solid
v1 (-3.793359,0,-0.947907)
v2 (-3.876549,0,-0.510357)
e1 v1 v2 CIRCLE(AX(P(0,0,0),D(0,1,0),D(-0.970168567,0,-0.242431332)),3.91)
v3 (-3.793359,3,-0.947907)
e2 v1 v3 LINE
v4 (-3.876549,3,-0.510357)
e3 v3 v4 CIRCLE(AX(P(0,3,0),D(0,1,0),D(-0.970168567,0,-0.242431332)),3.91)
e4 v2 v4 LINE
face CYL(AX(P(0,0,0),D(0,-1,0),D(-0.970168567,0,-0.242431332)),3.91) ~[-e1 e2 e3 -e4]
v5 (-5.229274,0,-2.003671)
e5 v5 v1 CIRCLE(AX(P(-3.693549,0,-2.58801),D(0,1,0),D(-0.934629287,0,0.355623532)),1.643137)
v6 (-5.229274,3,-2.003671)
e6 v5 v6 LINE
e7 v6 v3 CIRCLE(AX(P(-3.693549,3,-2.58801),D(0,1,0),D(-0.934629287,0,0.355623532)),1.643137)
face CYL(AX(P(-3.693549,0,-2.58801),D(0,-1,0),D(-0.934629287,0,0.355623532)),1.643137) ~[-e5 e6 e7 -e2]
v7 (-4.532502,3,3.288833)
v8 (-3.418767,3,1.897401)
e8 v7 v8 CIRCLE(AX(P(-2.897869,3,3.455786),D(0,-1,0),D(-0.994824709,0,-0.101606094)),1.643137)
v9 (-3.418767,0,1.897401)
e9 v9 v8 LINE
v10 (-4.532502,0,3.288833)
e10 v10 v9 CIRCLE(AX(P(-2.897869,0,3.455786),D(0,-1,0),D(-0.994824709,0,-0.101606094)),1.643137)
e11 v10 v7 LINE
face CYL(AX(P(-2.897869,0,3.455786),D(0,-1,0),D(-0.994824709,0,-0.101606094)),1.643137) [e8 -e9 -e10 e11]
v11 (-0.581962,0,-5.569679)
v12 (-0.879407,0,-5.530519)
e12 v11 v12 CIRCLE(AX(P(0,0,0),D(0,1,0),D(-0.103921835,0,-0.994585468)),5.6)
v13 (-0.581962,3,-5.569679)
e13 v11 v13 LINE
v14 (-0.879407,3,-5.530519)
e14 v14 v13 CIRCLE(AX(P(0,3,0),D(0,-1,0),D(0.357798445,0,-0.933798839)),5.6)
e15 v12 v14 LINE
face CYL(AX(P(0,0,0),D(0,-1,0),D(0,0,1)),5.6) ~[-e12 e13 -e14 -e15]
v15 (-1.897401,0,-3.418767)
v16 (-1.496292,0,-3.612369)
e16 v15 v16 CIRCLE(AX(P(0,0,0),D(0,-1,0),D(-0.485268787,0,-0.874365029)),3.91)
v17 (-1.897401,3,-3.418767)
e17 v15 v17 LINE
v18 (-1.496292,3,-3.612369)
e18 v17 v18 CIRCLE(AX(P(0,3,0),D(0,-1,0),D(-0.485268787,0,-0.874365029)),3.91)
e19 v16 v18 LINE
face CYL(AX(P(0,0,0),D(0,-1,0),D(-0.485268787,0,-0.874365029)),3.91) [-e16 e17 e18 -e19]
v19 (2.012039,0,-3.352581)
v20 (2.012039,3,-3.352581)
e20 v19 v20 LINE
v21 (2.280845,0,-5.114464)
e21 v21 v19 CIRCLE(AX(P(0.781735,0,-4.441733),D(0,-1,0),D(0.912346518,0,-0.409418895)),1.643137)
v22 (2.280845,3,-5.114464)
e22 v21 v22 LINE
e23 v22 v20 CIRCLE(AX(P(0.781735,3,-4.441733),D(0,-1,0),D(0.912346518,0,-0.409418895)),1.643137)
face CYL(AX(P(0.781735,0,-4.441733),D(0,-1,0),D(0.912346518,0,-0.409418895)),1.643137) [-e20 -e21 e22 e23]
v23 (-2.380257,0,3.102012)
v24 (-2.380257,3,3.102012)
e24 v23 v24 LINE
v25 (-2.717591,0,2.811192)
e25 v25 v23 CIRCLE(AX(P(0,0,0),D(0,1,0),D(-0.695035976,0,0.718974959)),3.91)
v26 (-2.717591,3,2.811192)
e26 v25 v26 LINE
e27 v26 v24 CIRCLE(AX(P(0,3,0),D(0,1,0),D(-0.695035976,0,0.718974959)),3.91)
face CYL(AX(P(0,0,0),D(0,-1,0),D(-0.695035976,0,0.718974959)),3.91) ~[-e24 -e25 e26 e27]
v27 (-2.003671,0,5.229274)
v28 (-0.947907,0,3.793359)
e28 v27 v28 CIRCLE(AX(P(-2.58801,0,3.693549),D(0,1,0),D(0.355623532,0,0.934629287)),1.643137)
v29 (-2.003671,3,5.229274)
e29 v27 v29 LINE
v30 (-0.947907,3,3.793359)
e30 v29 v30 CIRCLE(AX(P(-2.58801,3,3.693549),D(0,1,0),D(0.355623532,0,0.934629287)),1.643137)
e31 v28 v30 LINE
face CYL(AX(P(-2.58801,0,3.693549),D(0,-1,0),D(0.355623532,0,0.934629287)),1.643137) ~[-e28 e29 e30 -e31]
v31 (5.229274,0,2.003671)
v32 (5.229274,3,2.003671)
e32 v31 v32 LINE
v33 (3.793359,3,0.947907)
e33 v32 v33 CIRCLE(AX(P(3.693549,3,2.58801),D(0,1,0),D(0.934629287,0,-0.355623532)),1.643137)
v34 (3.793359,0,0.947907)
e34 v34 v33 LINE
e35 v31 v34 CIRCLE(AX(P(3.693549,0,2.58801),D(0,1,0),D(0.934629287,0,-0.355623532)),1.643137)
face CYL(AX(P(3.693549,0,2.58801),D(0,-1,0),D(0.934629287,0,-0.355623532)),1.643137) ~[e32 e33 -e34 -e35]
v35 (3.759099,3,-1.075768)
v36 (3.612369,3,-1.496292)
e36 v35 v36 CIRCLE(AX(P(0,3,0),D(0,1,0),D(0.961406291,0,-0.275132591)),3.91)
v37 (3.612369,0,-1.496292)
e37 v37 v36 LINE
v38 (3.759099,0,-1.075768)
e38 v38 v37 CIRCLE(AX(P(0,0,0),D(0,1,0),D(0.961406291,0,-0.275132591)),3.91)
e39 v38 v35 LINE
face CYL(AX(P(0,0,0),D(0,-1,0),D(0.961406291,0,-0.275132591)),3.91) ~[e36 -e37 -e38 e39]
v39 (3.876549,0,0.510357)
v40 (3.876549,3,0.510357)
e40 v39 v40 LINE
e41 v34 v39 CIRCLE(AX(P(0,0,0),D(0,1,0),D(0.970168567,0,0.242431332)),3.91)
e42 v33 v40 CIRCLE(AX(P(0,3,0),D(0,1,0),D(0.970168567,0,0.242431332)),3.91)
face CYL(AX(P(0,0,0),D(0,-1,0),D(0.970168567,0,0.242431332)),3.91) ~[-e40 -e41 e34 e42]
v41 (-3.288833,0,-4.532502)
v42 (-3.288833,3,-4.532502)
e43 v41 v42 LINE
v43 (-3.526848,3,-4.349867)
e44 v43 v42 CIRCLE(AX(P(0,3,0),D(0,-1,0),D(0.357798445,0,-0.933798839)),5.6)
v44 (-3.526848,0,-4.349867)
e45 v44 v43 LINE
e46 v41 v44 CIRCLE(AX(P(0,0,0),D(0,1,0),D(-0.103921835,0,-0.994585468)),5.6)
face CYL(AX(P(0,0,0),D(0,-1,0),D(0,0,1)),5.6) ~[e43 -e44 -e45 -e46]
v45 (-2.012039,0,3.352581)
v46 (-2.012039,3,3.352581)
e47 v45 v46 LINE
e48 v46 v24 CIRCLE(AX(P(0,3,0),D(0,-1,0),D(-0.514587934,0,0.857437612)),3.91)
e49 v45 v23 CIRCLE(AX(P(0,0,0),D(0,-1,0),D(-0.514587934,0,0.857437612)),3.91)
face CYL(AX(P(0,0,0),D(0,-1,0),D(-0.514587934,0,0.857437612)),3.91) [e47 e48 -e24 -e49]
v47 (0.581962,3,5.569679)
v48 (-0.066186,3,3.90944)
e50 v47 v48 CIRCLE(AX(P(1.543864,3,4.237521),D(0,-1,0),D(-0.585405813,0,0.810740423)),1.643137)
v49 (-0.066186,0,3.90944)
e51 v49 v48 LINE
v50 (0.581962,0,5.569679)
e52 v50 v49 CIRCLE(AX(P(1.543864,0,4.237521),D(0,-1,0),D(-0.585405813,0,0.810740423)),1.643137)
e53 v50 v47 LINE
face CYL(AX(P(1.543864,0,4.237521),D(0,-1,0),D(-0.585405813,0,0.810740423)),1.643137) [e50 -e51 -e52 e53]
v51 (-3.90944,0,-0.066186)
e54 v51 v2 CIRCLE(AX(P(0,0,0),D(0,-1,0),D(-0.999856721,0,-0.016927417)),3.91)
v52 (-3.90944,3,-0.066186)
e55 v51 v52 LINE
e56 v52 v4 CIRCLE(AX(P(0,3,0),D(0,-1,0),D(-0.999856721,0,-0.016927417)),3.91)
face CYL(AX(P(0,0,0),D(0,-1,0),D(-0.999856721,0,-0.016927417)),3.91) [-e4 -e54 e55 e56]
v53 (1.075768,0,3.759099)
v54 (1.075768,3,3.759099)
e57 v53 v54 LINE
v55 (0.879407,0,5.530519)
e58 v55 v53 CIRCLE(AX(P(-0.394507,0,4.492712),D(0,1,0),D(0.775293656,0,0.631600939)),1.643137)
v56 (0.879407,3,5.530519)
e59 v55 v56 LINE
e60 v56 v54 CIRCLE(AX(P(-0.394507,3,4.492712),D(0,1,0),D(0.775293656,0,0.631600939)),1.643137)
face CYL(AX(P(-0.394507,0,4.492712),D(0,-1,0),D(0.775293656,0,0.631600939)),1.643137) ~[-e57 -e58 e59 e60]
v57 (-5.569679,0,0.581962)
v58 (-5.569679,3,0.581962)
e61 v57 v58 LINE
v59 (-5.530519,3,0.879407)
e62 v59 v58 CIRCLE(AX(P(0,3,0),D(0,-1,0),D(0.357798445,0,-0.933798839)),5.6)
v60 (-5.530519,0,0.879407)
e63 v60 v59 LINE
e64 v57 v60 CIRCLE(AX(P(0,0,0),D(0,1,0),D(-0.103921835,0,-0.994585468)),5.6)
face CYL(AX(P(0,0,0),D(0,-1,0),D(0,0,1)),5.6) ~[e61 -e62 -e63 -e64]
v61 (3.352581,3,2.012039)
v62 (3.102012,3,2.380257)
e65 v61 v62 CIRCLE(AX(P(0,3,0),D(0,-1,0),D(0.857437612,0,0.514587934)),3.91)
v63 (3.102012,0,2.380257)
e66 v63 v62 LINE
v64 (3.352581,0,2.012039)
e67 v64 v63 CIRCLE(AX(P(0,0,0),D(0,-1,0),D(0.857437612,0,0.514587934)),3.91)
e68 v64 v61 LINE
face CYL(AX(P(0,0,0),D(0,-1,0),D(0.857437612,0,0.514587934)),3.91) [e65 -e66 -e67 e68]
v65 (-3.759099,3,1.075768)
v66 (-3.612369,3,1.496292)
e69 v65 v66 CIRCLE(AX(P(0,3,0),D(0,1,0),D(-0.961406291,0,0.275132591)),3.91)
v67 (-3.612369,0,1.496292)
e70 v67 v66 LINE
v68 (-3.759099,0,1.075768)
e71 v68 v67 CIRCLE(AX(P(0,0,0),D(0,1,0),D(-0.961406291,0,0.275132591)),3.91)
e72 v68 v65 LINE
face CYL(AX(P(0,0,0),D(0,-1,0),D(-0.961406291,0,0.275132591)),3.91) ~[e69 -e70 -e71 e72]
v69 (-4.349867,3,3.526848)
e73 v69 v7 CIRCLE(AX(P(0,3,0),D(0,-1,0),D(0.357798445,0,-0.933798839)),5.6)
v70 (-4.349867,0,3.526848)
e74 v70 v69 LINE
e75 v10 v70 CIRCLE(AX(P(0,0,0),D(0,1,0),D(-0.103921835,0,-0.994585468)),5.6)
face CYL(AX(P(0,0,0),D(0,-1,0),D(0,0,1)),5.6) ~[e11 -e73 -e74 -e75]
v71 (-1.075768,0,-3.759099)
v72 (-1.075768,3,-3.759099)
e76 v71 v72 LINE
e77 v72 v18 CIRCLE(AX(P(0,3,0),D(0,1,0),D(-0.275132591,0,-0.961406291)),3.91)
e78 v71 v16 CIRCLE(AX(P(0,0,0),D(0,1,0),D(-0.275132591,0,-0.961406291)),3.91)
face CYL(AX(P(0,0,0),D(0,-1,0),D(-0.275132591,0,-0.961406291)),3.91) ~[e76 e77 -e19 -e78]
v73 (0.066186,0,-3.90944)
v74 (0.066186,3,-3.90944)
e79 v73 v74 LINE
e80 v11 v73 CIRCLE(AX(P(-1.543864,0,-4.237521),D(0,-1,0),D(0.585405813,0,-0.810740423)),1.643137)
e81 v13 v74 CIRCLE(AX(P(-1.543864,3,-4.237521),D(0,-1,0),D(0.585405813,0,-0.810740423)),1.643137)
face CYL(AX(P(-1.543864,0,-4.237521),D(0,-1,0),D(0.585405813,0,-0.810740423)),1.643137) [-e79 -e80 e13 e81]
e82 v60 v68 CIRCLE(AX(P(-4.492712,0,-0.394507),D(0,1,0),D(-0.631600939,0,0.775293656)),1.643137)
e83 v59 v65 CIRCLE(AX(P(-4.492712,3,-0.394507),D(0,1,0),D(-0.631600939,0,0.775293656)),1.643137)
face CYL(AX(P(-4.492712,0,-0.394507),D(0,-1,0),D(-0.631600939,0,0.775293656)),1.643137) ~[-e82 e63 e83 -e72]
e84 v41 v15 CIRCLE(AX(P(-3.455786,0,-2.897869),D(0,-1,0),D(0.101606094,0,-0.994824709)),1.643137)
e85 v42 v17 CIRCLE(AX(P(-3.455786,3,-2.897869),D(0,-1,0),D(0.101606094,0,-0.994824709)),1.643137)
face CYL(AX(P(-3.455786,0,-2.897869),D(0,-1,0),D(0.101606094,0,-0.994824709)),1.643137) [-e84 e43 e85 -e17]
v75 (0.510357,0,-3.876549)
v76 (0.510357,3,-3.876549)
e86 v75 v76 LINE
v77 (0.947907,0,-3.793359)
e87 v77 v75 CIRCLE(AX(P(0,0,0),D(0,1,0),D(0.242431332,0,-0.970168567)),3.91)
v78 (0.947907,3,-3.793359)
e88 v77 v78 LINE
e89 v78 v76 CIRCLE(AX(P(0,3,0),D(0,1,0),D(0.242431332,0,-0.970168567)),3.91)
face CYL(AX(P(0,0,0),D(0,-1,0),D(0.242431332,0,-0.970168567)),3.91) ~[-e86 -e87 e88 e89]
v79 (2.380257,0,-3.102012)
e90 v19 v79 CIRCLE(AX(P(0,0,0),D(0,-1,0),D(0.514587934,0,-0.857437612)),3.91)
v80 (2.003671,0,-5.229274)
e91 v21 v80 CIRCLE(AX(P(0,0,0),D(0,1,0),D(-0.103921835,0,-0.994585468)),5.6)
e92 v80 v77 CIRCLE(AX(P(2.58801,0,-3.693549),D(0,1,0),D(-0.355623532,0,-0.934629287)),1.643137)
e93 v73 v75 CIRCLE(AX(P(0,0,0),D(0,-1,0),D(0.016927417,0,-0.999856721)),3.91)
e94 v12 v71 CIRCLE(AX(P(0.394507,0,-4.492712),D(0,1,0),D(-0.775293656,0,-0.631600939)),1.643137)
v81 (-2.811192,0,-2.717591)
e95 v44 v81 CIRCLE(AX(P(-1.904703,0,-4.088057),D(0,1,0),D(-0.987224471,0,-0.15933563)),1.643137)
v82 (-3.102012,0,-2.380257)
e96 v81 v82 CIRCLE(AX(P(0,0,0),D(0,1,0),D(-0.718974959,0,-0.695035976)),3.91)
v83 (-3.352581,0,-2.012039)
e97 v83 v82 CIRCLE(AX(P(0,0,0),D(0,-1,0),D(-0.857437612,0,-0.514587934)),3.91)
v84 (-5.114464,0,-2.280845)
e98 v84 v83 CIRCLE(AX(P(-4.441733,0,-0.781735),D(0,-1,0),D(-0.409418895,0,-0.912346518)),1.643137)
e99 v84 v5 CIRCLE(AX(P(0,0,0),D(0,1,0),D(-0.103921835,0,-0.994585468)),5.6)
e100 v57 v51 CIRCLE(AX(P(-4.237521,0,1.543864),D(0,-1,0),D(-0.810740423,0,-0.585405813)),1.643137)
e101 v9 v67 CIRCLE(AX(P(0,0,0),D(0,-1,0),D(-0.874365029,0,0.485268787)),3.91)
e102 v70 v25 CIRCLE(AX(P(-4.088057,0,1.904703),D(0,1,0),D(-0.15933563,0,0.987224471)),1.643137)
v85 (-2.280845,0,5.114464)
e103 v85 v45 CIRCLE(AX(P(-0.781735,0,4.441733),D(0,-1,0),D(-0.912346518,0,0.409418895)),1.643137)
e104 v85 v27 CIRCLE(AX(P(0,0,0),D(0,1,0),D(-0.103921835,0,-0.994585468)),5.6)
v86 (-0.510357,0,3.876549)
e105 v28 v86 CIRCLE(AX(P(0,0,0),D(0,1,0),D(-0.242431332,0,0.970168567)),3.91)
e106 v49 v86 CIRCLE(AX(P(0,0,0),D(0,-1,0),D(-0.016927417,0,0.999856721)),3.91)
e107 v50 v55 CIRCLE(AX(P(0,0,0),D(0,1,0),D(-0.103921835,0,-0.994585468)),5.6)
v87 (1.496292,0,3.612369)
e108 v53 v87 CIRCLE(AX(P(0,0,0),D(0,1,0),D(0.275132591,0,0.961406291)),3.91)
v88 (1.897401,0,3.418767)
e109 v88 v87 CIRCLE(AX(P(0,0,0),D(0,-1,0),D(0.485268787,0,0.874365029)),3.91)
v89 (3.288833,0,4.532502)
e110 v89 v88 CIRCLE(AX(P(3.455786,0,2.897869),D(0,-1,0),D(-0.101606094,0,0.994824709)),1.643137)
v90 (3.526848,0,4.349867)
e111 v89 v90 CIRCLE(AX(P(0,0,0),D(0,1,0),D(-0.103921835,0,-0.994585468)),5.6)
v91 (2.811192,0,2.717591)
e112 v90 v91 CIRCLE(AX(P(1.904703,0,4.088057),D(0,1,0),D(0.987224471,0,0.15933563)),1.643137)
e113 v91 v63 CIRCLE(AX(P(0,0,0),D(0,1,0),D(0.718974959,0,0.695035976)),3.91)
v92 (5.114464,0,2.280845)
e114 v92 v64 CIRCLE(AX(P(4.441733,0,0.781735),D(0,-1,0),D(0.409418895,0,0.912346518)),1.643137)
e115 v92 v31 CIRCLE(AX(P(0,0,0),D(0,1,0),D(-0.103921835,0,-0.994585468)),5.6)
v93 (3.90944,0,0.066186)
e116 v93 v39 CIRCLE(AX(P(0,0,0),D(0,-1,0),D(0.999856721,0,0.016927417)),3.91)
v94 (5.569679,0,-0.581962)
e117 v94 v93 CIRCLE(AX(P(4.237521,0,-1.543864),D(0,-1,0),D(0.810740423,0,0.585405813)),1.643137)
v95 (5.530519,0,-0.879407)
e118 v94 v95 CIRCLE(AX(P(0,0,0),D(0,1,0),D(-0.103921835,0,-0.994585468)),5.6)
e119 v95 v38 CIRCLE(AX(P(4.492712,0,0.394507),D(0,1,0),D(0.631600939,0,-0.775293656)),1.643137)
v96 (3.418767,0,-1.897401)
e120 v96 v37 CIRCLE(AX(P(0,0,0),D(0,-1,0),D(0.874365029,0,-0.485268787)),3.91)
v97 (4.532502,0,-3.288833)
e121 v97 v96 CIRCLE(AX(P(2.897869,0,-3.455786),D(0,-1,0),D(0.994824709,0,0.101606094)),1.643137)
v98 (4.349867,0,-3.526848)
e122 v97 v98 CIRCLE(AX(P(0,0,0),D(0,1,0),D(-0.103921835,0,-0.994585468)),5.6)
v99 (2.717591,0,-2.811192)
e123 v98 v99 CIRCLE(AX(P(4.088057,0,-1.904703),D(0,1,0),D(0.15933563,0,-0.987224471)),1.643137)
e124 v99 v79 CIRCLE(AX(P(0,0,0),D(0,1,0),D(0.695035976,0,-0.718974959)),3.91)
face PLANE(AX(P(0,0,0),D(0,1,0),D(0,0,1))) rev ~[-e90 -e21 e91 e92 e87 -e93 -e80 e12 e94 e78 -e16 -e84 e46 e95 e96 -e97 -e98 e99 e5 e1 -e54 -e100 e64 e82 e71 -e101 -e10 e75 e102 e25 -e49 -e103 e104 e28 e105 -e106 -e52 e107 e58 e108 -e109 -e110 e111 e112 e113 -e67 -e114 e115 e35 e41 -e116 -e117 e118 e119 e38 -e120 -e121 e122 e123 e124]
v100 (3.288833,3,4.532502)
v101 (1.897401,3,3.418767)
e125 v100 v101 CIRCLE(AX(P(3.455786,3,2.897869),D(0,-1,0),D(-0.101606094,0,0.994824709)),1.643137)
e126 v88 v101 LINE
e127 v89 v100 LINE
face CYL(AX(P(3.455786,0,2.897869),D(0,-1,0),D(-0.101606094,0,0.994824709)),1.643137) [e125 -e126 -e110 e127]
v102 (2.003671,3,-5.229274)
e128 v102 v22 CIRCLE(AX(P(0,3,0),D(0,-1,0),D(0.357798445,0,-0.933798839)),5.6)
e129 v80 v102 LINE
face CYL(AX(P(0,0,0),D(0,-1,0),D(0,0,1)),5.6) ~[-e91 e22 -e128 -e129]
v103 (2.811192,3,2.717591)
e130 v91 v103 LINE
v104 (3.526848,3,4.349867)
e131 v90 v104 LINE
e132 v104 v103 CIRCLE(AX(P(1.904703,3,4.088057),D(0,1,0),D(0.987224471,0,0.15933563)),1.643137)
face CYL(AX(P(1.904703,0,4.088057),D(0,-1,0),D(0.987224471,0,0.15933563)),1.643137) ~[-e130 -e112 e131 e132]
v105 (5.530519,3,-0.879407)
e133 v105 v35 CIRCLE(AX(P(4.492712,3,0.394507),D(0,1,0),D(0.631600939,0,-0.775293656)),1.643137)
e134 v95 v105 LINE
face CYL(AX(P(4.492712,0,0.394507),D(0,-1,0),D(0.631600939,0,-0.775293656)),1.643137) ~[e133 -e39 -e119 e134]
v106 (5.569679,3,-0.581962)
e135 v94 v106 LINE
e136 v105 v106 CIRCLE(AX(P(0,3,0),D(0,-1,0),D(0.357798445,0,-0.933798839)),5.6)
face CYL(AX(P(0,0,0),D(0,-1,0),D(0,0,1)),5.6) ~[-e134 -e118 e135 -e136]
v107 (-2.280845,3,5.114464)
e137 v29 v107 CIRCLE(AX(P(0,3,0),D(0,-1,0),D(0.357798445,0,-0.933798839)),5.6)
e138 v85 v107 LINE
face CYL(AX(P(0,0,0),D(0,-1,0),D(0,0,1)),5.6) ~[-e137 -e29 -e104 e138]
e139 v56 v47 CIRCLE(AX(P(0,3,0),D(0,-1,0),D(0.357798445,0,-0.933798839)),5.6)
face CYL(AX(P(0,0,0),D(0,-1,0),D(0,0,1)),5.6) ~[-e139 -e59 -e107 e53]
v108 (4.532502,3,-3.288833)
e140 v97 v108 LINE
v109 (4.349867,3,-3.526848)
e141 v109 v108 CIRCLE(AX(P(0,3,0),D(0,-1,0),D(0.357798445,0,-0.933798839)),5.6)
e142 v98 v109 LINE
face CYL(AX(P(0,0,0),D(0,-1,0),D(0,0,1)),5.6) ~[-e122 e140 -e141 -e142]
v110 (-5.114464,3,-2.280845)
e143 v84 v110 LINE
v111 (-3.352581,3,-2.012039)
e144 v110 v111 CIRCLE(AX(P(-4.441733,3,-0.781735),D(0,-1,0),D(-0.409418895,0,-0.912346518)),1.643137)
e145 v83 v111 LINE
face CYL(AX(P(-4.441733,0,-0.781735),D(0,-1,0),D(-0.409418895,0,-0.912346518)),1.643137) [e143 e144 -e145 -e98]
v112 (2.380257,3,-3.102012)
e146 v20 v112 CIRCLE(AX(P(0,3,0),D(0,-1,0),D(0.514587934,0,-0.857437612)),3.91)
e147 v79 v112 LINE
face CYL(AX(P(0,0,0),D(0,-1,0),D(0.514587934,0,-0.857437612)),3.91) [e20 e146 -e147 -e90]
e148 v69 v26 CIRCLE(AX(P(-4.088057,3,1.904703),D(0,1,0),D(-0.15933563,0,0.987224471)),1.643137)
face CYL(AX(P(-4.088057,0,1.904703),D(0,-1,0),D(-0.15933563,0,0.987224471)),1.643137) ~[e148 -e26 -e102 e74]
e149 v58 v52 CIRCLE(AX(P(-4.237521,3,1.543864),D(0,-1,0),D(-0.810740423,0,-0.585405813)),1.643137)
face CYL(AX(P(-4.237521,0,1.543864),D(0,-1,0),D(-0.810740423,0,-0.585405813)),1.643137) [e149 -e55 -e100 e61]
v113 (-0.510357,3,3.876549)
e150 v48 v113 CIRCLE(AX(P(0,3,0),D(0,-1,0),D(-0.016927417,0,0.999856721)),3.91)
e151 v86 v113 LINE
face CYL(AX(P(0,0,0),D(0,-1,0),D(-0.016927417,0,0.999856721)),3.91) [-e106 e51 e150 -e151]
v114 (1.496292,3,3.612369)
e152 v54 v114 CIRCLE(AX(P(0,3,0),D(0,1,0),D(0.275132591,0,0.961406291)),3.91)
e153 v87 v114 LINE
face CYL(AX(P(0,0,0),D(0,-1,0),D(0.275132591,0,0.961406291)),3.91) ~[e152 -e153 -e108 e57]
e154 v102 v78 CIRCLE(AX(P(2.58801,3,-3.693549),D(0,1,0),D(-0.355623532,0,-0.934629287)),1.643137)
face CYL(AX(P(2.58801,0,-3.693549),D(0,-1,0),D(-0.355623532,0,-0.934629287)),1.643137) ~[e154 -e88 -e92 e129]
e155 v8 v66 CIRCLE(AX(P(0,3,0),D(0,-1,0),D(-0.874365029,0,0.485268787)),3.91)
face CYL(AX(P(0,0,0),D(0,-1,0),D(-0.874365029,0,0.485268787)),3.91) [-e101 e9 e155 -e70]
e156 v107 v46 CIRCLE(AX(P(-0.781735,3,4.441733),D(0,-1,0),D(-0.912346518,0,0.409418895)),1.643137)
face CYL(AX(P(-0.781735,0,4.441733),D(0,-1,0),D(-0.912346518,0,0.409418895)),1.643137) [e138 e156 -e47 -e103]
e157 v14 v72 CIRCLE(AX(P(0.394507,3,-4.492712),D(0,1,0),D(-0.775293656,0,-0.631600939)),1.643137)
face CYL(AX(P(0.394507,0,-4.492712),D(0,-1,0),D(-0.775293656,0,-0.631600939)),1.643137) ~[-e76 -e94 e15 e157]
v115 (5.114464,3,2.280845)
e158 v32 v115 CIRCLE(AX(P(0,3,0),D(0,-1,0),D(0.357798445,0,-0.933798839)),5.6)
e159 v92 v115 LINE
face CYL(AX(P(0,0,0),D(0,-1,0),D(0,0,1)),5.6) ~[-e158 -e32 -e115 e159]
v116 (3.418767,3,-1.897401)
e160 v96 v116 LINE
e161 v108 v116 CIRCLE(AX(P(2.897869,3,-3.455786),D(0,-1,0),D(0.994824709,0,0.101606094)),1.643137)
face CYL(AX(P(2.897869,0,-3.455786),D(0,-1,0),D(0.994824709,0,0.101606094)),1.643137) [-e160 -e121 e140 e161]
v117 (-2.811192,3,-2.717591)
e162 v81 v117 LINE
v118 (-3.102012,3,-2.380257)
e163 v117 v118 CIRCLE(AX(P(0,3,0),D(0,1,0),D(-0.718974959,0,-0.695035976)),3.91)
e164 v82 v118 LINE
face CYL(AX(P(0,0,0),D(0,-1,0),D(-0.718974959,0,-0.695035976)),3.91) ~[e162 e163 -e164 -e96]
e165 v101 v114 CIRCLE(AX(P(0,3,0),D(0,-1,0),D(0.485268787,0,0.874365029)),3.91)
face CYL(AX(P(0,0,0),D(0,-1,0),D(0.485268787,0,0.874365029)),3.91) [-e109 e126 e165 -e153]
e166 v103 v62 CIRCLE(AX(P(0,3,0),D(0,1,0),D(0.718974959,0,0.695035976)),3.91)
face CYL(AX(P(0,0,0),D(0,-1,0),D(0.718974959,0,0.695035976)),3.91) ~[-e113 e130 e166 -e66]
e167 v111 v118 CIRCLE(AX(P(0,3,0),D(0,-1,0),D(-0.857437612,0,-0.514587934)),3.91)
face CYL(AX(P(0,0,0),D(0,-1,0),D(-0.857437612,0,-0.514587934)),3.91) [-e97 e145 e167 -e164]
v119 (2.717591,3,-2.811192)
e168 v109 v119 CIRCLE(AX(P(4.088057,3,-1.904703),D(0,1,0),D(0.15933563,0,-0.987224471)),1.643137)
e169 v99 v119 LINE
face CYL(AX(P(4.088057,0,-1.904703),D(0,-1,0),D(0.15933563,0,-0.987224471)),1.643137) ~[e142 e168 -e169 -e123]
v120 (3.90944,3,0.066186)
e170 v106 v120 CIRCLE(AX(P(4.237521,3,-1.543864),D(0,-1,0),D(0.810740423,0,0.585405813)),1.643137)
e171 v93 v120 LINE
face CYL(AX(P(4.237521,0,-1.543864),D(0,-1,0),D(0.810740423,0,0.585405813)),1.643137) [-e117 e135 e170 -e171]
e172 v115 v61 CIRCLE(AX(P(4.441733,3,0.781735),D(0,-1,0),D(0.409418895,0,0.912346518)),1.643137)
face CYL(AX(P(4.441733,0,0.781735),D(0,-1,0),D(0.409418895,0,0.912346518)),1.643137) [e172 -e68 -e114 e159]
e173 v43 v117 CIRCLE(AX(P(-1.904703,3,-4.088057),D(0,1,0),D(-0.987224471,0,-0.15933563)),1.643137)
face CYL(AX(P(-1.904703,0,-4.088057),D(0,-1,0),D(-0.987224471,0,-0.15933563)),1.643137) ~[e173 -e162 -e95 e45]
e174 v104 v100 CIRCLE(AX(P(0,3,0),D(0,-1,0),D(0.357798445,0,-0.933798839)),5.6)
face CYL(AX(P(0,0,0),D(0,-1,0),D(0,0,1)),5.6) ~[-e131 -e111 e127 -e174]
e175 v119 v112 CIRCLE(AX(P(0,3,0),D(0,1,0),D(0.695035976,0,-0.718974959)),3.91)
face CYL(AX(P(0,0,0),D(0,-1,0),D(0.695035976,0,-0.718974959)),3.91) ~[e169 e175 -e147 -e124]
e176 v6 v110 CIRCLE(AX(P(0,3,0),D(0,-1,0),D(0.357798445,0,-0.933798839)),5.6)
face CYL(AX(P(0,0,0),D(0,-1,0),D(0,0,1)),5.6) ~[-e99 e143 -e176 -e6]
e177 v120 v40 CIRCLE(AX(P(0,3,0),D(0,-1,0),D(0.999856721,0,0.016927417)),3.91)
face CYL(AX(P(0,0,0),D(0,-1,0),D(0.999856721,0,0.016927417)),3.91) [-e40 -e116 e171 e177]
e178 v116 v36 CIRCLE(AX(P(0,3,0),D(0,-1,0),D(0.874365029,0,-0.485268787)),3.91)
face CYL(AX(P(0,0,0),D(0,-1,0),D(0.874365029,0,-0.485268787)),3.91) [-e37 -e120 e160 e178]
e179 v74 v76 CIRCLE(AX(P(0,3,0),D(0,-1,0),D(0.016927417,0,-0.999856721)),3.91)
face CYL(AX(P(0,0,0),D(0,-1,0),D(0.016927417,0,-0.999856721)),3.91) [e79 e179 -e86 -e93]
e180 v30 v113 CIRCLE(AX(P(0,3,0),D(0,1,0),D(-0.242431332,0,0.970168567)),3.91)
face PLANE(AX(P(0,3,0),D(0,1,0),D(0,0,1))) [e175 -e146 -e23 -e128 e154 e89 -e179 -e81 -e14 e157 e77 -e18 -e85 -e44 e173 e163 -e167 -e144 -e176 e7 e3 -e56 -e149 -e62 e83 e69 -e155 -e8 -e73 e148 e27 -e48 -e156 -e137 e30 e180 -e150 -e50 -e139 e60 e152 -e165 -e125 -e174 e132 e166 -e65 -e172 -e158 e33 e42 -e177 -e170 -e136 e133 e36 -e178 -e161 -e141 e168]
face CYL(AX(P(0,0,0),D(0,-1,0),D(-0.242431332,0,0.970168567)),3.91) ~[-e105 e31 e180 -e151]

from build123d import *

# Parameters (mm, degrees)
SKETCH1_R                 = 5.6
BOSS_EXTRUDE1_DEPTH       = 3
CUT_EXTRUDE1_START        = -3
CUT_EXTRUDE1_DEPTH        = 3
CIRPATTERN1_COUNT         = 12
CIRPATTERN1_START         = -3
CIRPATTERN1_COPY_1_DEPTH  = 3
CIRPATTERN1_COPY_2_DEPTH  = 3
CIRPATTERN1_COPY_3_DEPTH  = 3
CIRPATTERN1_COPY_4_DEPTH  = 3
CIRPATTERN1_COPY_5_DEPTH  = 3
CIRPATTERN1_COPY_6_DEPTH  = 3
CIRPATTERN1_COPY_7_DEPTH  = 3
CIRPATTERN1_COPY_8_DEPTH  = 3
CIRPATTERN1_COPY_9_DEPTH  = 3
CIRPATTERN1_COPY_10_DEPTH = 3
CIRPATTERN1_COPY_11_DEPTH = 3


with BuildPart() as part:
    # Sketch1 → Boss-Extrude1 (new body)
    with BuildSketch(Plane(origin=(0, 0, 0), x_dir=(1, 0, 0), z_dir=(0, 1, 0))):
        with Locations(Location((0, 0, 0), (0, 0, 270))):
            Circle(SKETCH1_R)
    extrude(amount=BOSS_EXTRUDE1_DEPTH)

    # Sketch2 → Cut-Extrude1 (cut)
    with BuildSketch(Plane(origin=(0, 3, 0), x_dir=(1, 0, 0), z_dir=(0, 1, 0)).offset(CUT_EXTRUDE1_START)):
        with BuildLine():
            Line((0.510357412, 3.876549408), (0.730946676, 5.552091224))
            ThreePointArc((0.730946676, 5.552091224), (0.075009446, 5.599497619), (-0.581962275, 5.569678618))
            ThreePointArc((-0.581962275, 5.569678618), (-0.013232679, 4.835071359), (0.066186197, 3.909439779))
            ThreePointArc((0.066186197, 3.909439779), (0.288740502, 3.899324162), (0.510357412, 3.876549408))
        make_face()
    cut_extrude1 = extrude(amount=CUT_EXTRUDE1_DEPTH, mode=Mode.SUBTRACT)

    # Mirror1: Cut-Extrude1 across plane
    add(cut_extrude1.mirror(Plane(origin=(0, 0, 0), x_dir=(-0.13052619222004483, 0, 0.9914448613738113), z_dir=(-0.9914448613738114, 0, -0.13052619222004483))), mode=Mode.SUBTRACT)

    # CirPattern1: Cut-Extrude1 ×12 about axis
    cirpattern1_axis = Axis((0, 0, 0), (0, 1, 0))
    for i in range(1, CIRPATTERN1_COUNT):
        add(cut_extrude1.rotate(cirpattern1_axis, i * 360 / CIRPATTERN1_COUNT), mode=Mode.SUBTRACT)

    # CirPattern1 copy 1 sketch → CirPattern1 copy 1 (cut)
    with BuildSketch(Plane(origin=(0, 3, 0), x_dir=(-0.9659258262890651, 0, 0.25881904510253406), z_dir=(0, 1, 0)).offset(CIRPATTERN1_START)):
        with BuildLine():
            Line((0.510357412, -3.876549408), (0.730946676, -5.552091224))
            ThreePointArc((0.730946676, -5.552091224), (0.075009446, -5.599497619), (-0.581962275, -5.569678618))
            ThreePointArc((-0.581962275, -5.569678618), (-0.013232679, -4.835071359), (0.066186197, -3.909439779))
            ThreePointArc((0.066186197, -3.909439779), (0.288740502, -3.899324162), (0.510357412, -3.876549408))
        make_face()
    extrude(amount=CIRPATTERN1_COPY_1_DEPTH, mode=Mode.SUBTRACT)

    # CirPattern1 copy 2 sketch → CirPattern1 copy 2 (cut)
    with BuildSketch(Plane(origin=(0, 3, 0), x_dir=(-0.7071067811865381, 0, 0.7071067811865575), z_dir=(0, 1, 0)).offset(CIRPATTERN1_START)):
        with BuildLine():
            Line((0.510357412, -3.876549408), (0.730946676, -5.552091224))
            ThreePointArc((0.730946676, -5.552091224), (0.075009446, -5.599497619), (-0.581962275, -5.569678618))
            ThreePointArc((-0.581962275, -5.569678618), (-0.013232679, -4.835071359), (0.066186197, -3.909439779))
            ThreePointArc((0.066186197, -3.909439779), (0.288740502, -3.899324162), (0.510357412, -3.876549408))
        make_face()
    extrude(amount=CIRPATTERN1_COPY_2_DEPTH, mode=Mode.SUBTRACT)

    # CirPattern1 copy 3 sketch → CirPattern1 copy 3 (cut)
    with BuildSketch(Plane(origin=(0, 3, 0), x_dir=(-0.25881904510250764, 0, 0.9659258262890722), z_dir=(0, 1, 0)).offset(CIRPATTERN1_START)):
        with BuildLine():
            Line((0.510357412, -3.876549408), (0.730946676, -5.552091224))
            ThreePointArc((0.730946676, -5.552091224), (0.075009446, -5.599497619), (-0.581962275, -5.569678618))
            ThreePointArc((-0.581962275, -5.569678618), (-0.013232679, -4.835071359), (0.066186197, -3.909439779))
            ThreePointArc((0.066186197, -3.909439779), (0.288740502, -3.899324162), (0.510357412, -3.876549408))
        make_face()
    extrude(amount=CIRPATTERN1_COPY_3_DEPTH, mode=Mode.SUBTRACT)

    # CirPattern1 copy 4 sketch → CirPattern1 copy 4 (cut)
    with BuildSketch(Plane(origin=(0, 3, 0), x_dir=(0.2588190451025339, 0, 0.9659258262890651), z_dir=(0, 1, 0)).offset(CIRPATTERN1_START)):
        with BuildLine():
            Line((0.510357412, -3.876549408), (0.730946676, -5.552091224))
            ThreePointArc((0.730946676, -5.552091224), (0.075009446, -5.599497619), (-0.581962275, -5.569678618))
            ThreePointArc((-0.581962275, -5.569678618), (-0.013232679, -4.835071359), (0.066186197, -3.909439779))
            ThreePointArc((0.066186197, -3.909439779), (0.288740502, -3.899324162), (0.510357412, -3.876549408))
        make_face()
    extrude(amount=CIRPATTERN1_COPY_4_DEPTH, mode=Mode.SUBTRACT)

    # CirPattern1 copy 5 sketch → CirPattern1 copy 5 (cut)
    with BuildSketch(Plane(origin=(0, 3, 0), x_dir=(0.7071067811865577, 0, 0.707106781186538), z_dir=(0, 1, 0)).offset(CIRPATTERN1_START)):
        with BuildLine():
            Line((0.510357412, -3.876549408), (0.730946676, -5.552091224))
            ThreePointArc((0.730946676, -5.552091224), (0.075009446, -5.599497619), (-0.581962275, -5.569678618))
            ThreePointArc((-0.581962275, -5.569678618), (-0.013232679, -4.835071359), (0.066186197, -3.909439779))
            ThreePointArc((0.066186197, -3.909439779), (0.288740502, -3.899324162), (0.510357412, -3.876549408))
        make_face()
    extrude(amount=CIRPATTERN1_COPY_5_DEPTH, mode=Mode.SUBTRACT)

    # CirPattern1 copy 6 sketch → CirPattern1 copy 6 (cut)
    with BuildSketch(Plane(origin=(0, 3, 0), x_dir=(0.9659258262890722, 0, 0.2588190451025077), z_dir=(0, 1, 0)).offset(CIRPATTERN1_START)):
        with BuildLine():
            Line((0.510357412, -3.876549408), (0.730946676, -5.552091224))
            ThreePointArc((0.730946676, -5.552091224), (0.075009446, -5.599497619), (-0.581962275, -5.569678618))
            ThreePointArc((-0.581962275, -5.569678618), (-0.013232679, -4.835071359), (0.066186197, -3.909439779))
            ThreePointArc((0.066186197, -3.909439779), (0.288740502, -3.899324162), (0.510357412, -3.876549408))
        make_face()
    extrude(amount=CIRPATTERN1_COPY_6_DEPTH, mode=Mode.SUBTRACT)

    # CirPattern1 copy 7 sketch → CirPattern1 copy 7 (cut)
    with BuildSketch(Plane(origin=(0, 3, 0), x_dir=(0.9659258262890651, 0, -0.2588190451025343), z_dir=(0, 1, 0)).offset(CIRPATTERN1_START)):
        with BuildLine():
            Line((0.510357412, -3.876549408), (0.730946676, -5.552091224))
            ThreePointArc((0.730946676, -5.552091224), (0.075009446, -5.599497619), (-0.581962275, -5.569678618))
            ThreePointArc((-0.581962275, -5.569678618), (-0.013232679, -4.835071359), (0.066186197, -3.909439779))
            ThreePointArc((0.066186197, -3.909439779), (0.288740502, -3.899324162), (0.510357412, -3.876549408))
        make_face()
    extrude(amount=CIRPATTERN1_COPY_7_DEPTH, mode=Mode.SUBTRACT)

    # CirPattern1 copy 8 sketch → CirPattern1 copy 8 (cut)
    with BuildSketch(Plane(origin=(0, 3, 0), x_dir=(0.7071067811865385, 0, -0.7071067811865571), z_dir=(0, 1, 0)).offset(CIRPATTERN1_START)):
        with BuildLine():
            Line((0.510357412, -3.876549408), (0.730946676, -5.552091224))
            ThreePointArc((0.730946676, -5.552091224), (0.075009446, -5.599497619), (-0.581962275, -5.569678618))
            ThreePointArc((-0.581962275, -5.569678618), (-0.013232679, -4.835071359), (0.066186197, -3.909439779))
            ThreePointArc((0.066186197, -3.909439779), (0.288740502, -3.899324162), (0.510357412, -3.876549408))
        make_face()
    extrude(amount=CIRPATTERN1_COPY_8_DEPTH, mode=Mode.SUBTRACT)

    # CirPattern1 copy 9 sketch → CirPattern1 copy 9 (cut)
    with BuildSketch(Plane(origin=(0, 3, 0), x_dir=(0.25881904510250775, 0, -0.9659258262890722), z_dir=(0, 1, 0)).offset(CIRPATTERN1_START)):
        with BuildLine():
            Line((0.510357412, -3.876549408), (0.730946676, -5.552091224))
            ThreePointArc((0.730946676, -5.552091224), (0.075009446, -5.599497619), (-0.581962275, -5.569678618))
            ThreePointArc((-0.581962275, -5.569678618), (-0.013232679, -4.835071359), (0.066186197, -3.909439779))
            ThreePointArc((0.066186197, -3.909439779), (0.288740502, -3.899324162), (0.510357412, -3.876549408))
        make_face()
    extrude(amount=CIRPATTERN1_COPY_9_DEPTH, mode=Mode.SUBTRACT)

    # CirPattern1 copy 10 sketch → CirPattern1 copy 10 (cut)
    with BuildSketch(Plane(origin=(0, 3, 0), x_dir=(-0.2588190451025343, 0, -0.9659258262890651), z_dir=(0, 1, 0)).offset(CIRPATTERN1_START)):
        with BuildLine():
            Line((0.510357412, -3.876549408), (0.730946676, -5.552091224))
            ThreePointArc((0.730946676, -5.552091224), (0.075009446, -5.599497619), (-0.581962275, -5.569678618))
            ThreePointArc((-0.581962275, -5.569678618), (-0.013232679, -4.835071359), (0.066186197, -3.909439779))
            ThreePointArc((0.066186197, -3.909439779), (0.288740502, -3.899324162), (0.510357412, -3.876549408))
        make_face()
    extrude(amount=CIRPATTERN1_COPY_10_DEPTH, mode=Mode.SUBTRACT)

    # CirPattern1 copy 11 sketch → CirPattern1 copy 11 (cut)
    with BuildSketch(Plane(origin=(0, 3, 0), x_dir=(-0.7071067811865571, 0, -0.7071067811865385), z_dir=(0, 1, 0)).offset(CIRPATTERN1_START)):
        with BuildLine():
            Line((0.510357412, -3.876549408), (0.730946676, -5.552091224))
            ThreePointArc((0.730946676, -5.552091224), (0.075009446, -5.599497619), (-0.581962275, -5.569678618))
            ThreePointArc((-0.581962275, -5.569678618), (-0.013232679, -4.835071359), (0.066186197, -3.909439779))
            ThreePointArc((0.066186197, -3.909439779), (0.288740502, -3.899324162), (0.510357412, -3.876549408))
        make_face()
    extrude(amount=CIRPATTERN1_COPY_11_DEPTH, mode=Mode.SUBTRACT)


solid = part.part
